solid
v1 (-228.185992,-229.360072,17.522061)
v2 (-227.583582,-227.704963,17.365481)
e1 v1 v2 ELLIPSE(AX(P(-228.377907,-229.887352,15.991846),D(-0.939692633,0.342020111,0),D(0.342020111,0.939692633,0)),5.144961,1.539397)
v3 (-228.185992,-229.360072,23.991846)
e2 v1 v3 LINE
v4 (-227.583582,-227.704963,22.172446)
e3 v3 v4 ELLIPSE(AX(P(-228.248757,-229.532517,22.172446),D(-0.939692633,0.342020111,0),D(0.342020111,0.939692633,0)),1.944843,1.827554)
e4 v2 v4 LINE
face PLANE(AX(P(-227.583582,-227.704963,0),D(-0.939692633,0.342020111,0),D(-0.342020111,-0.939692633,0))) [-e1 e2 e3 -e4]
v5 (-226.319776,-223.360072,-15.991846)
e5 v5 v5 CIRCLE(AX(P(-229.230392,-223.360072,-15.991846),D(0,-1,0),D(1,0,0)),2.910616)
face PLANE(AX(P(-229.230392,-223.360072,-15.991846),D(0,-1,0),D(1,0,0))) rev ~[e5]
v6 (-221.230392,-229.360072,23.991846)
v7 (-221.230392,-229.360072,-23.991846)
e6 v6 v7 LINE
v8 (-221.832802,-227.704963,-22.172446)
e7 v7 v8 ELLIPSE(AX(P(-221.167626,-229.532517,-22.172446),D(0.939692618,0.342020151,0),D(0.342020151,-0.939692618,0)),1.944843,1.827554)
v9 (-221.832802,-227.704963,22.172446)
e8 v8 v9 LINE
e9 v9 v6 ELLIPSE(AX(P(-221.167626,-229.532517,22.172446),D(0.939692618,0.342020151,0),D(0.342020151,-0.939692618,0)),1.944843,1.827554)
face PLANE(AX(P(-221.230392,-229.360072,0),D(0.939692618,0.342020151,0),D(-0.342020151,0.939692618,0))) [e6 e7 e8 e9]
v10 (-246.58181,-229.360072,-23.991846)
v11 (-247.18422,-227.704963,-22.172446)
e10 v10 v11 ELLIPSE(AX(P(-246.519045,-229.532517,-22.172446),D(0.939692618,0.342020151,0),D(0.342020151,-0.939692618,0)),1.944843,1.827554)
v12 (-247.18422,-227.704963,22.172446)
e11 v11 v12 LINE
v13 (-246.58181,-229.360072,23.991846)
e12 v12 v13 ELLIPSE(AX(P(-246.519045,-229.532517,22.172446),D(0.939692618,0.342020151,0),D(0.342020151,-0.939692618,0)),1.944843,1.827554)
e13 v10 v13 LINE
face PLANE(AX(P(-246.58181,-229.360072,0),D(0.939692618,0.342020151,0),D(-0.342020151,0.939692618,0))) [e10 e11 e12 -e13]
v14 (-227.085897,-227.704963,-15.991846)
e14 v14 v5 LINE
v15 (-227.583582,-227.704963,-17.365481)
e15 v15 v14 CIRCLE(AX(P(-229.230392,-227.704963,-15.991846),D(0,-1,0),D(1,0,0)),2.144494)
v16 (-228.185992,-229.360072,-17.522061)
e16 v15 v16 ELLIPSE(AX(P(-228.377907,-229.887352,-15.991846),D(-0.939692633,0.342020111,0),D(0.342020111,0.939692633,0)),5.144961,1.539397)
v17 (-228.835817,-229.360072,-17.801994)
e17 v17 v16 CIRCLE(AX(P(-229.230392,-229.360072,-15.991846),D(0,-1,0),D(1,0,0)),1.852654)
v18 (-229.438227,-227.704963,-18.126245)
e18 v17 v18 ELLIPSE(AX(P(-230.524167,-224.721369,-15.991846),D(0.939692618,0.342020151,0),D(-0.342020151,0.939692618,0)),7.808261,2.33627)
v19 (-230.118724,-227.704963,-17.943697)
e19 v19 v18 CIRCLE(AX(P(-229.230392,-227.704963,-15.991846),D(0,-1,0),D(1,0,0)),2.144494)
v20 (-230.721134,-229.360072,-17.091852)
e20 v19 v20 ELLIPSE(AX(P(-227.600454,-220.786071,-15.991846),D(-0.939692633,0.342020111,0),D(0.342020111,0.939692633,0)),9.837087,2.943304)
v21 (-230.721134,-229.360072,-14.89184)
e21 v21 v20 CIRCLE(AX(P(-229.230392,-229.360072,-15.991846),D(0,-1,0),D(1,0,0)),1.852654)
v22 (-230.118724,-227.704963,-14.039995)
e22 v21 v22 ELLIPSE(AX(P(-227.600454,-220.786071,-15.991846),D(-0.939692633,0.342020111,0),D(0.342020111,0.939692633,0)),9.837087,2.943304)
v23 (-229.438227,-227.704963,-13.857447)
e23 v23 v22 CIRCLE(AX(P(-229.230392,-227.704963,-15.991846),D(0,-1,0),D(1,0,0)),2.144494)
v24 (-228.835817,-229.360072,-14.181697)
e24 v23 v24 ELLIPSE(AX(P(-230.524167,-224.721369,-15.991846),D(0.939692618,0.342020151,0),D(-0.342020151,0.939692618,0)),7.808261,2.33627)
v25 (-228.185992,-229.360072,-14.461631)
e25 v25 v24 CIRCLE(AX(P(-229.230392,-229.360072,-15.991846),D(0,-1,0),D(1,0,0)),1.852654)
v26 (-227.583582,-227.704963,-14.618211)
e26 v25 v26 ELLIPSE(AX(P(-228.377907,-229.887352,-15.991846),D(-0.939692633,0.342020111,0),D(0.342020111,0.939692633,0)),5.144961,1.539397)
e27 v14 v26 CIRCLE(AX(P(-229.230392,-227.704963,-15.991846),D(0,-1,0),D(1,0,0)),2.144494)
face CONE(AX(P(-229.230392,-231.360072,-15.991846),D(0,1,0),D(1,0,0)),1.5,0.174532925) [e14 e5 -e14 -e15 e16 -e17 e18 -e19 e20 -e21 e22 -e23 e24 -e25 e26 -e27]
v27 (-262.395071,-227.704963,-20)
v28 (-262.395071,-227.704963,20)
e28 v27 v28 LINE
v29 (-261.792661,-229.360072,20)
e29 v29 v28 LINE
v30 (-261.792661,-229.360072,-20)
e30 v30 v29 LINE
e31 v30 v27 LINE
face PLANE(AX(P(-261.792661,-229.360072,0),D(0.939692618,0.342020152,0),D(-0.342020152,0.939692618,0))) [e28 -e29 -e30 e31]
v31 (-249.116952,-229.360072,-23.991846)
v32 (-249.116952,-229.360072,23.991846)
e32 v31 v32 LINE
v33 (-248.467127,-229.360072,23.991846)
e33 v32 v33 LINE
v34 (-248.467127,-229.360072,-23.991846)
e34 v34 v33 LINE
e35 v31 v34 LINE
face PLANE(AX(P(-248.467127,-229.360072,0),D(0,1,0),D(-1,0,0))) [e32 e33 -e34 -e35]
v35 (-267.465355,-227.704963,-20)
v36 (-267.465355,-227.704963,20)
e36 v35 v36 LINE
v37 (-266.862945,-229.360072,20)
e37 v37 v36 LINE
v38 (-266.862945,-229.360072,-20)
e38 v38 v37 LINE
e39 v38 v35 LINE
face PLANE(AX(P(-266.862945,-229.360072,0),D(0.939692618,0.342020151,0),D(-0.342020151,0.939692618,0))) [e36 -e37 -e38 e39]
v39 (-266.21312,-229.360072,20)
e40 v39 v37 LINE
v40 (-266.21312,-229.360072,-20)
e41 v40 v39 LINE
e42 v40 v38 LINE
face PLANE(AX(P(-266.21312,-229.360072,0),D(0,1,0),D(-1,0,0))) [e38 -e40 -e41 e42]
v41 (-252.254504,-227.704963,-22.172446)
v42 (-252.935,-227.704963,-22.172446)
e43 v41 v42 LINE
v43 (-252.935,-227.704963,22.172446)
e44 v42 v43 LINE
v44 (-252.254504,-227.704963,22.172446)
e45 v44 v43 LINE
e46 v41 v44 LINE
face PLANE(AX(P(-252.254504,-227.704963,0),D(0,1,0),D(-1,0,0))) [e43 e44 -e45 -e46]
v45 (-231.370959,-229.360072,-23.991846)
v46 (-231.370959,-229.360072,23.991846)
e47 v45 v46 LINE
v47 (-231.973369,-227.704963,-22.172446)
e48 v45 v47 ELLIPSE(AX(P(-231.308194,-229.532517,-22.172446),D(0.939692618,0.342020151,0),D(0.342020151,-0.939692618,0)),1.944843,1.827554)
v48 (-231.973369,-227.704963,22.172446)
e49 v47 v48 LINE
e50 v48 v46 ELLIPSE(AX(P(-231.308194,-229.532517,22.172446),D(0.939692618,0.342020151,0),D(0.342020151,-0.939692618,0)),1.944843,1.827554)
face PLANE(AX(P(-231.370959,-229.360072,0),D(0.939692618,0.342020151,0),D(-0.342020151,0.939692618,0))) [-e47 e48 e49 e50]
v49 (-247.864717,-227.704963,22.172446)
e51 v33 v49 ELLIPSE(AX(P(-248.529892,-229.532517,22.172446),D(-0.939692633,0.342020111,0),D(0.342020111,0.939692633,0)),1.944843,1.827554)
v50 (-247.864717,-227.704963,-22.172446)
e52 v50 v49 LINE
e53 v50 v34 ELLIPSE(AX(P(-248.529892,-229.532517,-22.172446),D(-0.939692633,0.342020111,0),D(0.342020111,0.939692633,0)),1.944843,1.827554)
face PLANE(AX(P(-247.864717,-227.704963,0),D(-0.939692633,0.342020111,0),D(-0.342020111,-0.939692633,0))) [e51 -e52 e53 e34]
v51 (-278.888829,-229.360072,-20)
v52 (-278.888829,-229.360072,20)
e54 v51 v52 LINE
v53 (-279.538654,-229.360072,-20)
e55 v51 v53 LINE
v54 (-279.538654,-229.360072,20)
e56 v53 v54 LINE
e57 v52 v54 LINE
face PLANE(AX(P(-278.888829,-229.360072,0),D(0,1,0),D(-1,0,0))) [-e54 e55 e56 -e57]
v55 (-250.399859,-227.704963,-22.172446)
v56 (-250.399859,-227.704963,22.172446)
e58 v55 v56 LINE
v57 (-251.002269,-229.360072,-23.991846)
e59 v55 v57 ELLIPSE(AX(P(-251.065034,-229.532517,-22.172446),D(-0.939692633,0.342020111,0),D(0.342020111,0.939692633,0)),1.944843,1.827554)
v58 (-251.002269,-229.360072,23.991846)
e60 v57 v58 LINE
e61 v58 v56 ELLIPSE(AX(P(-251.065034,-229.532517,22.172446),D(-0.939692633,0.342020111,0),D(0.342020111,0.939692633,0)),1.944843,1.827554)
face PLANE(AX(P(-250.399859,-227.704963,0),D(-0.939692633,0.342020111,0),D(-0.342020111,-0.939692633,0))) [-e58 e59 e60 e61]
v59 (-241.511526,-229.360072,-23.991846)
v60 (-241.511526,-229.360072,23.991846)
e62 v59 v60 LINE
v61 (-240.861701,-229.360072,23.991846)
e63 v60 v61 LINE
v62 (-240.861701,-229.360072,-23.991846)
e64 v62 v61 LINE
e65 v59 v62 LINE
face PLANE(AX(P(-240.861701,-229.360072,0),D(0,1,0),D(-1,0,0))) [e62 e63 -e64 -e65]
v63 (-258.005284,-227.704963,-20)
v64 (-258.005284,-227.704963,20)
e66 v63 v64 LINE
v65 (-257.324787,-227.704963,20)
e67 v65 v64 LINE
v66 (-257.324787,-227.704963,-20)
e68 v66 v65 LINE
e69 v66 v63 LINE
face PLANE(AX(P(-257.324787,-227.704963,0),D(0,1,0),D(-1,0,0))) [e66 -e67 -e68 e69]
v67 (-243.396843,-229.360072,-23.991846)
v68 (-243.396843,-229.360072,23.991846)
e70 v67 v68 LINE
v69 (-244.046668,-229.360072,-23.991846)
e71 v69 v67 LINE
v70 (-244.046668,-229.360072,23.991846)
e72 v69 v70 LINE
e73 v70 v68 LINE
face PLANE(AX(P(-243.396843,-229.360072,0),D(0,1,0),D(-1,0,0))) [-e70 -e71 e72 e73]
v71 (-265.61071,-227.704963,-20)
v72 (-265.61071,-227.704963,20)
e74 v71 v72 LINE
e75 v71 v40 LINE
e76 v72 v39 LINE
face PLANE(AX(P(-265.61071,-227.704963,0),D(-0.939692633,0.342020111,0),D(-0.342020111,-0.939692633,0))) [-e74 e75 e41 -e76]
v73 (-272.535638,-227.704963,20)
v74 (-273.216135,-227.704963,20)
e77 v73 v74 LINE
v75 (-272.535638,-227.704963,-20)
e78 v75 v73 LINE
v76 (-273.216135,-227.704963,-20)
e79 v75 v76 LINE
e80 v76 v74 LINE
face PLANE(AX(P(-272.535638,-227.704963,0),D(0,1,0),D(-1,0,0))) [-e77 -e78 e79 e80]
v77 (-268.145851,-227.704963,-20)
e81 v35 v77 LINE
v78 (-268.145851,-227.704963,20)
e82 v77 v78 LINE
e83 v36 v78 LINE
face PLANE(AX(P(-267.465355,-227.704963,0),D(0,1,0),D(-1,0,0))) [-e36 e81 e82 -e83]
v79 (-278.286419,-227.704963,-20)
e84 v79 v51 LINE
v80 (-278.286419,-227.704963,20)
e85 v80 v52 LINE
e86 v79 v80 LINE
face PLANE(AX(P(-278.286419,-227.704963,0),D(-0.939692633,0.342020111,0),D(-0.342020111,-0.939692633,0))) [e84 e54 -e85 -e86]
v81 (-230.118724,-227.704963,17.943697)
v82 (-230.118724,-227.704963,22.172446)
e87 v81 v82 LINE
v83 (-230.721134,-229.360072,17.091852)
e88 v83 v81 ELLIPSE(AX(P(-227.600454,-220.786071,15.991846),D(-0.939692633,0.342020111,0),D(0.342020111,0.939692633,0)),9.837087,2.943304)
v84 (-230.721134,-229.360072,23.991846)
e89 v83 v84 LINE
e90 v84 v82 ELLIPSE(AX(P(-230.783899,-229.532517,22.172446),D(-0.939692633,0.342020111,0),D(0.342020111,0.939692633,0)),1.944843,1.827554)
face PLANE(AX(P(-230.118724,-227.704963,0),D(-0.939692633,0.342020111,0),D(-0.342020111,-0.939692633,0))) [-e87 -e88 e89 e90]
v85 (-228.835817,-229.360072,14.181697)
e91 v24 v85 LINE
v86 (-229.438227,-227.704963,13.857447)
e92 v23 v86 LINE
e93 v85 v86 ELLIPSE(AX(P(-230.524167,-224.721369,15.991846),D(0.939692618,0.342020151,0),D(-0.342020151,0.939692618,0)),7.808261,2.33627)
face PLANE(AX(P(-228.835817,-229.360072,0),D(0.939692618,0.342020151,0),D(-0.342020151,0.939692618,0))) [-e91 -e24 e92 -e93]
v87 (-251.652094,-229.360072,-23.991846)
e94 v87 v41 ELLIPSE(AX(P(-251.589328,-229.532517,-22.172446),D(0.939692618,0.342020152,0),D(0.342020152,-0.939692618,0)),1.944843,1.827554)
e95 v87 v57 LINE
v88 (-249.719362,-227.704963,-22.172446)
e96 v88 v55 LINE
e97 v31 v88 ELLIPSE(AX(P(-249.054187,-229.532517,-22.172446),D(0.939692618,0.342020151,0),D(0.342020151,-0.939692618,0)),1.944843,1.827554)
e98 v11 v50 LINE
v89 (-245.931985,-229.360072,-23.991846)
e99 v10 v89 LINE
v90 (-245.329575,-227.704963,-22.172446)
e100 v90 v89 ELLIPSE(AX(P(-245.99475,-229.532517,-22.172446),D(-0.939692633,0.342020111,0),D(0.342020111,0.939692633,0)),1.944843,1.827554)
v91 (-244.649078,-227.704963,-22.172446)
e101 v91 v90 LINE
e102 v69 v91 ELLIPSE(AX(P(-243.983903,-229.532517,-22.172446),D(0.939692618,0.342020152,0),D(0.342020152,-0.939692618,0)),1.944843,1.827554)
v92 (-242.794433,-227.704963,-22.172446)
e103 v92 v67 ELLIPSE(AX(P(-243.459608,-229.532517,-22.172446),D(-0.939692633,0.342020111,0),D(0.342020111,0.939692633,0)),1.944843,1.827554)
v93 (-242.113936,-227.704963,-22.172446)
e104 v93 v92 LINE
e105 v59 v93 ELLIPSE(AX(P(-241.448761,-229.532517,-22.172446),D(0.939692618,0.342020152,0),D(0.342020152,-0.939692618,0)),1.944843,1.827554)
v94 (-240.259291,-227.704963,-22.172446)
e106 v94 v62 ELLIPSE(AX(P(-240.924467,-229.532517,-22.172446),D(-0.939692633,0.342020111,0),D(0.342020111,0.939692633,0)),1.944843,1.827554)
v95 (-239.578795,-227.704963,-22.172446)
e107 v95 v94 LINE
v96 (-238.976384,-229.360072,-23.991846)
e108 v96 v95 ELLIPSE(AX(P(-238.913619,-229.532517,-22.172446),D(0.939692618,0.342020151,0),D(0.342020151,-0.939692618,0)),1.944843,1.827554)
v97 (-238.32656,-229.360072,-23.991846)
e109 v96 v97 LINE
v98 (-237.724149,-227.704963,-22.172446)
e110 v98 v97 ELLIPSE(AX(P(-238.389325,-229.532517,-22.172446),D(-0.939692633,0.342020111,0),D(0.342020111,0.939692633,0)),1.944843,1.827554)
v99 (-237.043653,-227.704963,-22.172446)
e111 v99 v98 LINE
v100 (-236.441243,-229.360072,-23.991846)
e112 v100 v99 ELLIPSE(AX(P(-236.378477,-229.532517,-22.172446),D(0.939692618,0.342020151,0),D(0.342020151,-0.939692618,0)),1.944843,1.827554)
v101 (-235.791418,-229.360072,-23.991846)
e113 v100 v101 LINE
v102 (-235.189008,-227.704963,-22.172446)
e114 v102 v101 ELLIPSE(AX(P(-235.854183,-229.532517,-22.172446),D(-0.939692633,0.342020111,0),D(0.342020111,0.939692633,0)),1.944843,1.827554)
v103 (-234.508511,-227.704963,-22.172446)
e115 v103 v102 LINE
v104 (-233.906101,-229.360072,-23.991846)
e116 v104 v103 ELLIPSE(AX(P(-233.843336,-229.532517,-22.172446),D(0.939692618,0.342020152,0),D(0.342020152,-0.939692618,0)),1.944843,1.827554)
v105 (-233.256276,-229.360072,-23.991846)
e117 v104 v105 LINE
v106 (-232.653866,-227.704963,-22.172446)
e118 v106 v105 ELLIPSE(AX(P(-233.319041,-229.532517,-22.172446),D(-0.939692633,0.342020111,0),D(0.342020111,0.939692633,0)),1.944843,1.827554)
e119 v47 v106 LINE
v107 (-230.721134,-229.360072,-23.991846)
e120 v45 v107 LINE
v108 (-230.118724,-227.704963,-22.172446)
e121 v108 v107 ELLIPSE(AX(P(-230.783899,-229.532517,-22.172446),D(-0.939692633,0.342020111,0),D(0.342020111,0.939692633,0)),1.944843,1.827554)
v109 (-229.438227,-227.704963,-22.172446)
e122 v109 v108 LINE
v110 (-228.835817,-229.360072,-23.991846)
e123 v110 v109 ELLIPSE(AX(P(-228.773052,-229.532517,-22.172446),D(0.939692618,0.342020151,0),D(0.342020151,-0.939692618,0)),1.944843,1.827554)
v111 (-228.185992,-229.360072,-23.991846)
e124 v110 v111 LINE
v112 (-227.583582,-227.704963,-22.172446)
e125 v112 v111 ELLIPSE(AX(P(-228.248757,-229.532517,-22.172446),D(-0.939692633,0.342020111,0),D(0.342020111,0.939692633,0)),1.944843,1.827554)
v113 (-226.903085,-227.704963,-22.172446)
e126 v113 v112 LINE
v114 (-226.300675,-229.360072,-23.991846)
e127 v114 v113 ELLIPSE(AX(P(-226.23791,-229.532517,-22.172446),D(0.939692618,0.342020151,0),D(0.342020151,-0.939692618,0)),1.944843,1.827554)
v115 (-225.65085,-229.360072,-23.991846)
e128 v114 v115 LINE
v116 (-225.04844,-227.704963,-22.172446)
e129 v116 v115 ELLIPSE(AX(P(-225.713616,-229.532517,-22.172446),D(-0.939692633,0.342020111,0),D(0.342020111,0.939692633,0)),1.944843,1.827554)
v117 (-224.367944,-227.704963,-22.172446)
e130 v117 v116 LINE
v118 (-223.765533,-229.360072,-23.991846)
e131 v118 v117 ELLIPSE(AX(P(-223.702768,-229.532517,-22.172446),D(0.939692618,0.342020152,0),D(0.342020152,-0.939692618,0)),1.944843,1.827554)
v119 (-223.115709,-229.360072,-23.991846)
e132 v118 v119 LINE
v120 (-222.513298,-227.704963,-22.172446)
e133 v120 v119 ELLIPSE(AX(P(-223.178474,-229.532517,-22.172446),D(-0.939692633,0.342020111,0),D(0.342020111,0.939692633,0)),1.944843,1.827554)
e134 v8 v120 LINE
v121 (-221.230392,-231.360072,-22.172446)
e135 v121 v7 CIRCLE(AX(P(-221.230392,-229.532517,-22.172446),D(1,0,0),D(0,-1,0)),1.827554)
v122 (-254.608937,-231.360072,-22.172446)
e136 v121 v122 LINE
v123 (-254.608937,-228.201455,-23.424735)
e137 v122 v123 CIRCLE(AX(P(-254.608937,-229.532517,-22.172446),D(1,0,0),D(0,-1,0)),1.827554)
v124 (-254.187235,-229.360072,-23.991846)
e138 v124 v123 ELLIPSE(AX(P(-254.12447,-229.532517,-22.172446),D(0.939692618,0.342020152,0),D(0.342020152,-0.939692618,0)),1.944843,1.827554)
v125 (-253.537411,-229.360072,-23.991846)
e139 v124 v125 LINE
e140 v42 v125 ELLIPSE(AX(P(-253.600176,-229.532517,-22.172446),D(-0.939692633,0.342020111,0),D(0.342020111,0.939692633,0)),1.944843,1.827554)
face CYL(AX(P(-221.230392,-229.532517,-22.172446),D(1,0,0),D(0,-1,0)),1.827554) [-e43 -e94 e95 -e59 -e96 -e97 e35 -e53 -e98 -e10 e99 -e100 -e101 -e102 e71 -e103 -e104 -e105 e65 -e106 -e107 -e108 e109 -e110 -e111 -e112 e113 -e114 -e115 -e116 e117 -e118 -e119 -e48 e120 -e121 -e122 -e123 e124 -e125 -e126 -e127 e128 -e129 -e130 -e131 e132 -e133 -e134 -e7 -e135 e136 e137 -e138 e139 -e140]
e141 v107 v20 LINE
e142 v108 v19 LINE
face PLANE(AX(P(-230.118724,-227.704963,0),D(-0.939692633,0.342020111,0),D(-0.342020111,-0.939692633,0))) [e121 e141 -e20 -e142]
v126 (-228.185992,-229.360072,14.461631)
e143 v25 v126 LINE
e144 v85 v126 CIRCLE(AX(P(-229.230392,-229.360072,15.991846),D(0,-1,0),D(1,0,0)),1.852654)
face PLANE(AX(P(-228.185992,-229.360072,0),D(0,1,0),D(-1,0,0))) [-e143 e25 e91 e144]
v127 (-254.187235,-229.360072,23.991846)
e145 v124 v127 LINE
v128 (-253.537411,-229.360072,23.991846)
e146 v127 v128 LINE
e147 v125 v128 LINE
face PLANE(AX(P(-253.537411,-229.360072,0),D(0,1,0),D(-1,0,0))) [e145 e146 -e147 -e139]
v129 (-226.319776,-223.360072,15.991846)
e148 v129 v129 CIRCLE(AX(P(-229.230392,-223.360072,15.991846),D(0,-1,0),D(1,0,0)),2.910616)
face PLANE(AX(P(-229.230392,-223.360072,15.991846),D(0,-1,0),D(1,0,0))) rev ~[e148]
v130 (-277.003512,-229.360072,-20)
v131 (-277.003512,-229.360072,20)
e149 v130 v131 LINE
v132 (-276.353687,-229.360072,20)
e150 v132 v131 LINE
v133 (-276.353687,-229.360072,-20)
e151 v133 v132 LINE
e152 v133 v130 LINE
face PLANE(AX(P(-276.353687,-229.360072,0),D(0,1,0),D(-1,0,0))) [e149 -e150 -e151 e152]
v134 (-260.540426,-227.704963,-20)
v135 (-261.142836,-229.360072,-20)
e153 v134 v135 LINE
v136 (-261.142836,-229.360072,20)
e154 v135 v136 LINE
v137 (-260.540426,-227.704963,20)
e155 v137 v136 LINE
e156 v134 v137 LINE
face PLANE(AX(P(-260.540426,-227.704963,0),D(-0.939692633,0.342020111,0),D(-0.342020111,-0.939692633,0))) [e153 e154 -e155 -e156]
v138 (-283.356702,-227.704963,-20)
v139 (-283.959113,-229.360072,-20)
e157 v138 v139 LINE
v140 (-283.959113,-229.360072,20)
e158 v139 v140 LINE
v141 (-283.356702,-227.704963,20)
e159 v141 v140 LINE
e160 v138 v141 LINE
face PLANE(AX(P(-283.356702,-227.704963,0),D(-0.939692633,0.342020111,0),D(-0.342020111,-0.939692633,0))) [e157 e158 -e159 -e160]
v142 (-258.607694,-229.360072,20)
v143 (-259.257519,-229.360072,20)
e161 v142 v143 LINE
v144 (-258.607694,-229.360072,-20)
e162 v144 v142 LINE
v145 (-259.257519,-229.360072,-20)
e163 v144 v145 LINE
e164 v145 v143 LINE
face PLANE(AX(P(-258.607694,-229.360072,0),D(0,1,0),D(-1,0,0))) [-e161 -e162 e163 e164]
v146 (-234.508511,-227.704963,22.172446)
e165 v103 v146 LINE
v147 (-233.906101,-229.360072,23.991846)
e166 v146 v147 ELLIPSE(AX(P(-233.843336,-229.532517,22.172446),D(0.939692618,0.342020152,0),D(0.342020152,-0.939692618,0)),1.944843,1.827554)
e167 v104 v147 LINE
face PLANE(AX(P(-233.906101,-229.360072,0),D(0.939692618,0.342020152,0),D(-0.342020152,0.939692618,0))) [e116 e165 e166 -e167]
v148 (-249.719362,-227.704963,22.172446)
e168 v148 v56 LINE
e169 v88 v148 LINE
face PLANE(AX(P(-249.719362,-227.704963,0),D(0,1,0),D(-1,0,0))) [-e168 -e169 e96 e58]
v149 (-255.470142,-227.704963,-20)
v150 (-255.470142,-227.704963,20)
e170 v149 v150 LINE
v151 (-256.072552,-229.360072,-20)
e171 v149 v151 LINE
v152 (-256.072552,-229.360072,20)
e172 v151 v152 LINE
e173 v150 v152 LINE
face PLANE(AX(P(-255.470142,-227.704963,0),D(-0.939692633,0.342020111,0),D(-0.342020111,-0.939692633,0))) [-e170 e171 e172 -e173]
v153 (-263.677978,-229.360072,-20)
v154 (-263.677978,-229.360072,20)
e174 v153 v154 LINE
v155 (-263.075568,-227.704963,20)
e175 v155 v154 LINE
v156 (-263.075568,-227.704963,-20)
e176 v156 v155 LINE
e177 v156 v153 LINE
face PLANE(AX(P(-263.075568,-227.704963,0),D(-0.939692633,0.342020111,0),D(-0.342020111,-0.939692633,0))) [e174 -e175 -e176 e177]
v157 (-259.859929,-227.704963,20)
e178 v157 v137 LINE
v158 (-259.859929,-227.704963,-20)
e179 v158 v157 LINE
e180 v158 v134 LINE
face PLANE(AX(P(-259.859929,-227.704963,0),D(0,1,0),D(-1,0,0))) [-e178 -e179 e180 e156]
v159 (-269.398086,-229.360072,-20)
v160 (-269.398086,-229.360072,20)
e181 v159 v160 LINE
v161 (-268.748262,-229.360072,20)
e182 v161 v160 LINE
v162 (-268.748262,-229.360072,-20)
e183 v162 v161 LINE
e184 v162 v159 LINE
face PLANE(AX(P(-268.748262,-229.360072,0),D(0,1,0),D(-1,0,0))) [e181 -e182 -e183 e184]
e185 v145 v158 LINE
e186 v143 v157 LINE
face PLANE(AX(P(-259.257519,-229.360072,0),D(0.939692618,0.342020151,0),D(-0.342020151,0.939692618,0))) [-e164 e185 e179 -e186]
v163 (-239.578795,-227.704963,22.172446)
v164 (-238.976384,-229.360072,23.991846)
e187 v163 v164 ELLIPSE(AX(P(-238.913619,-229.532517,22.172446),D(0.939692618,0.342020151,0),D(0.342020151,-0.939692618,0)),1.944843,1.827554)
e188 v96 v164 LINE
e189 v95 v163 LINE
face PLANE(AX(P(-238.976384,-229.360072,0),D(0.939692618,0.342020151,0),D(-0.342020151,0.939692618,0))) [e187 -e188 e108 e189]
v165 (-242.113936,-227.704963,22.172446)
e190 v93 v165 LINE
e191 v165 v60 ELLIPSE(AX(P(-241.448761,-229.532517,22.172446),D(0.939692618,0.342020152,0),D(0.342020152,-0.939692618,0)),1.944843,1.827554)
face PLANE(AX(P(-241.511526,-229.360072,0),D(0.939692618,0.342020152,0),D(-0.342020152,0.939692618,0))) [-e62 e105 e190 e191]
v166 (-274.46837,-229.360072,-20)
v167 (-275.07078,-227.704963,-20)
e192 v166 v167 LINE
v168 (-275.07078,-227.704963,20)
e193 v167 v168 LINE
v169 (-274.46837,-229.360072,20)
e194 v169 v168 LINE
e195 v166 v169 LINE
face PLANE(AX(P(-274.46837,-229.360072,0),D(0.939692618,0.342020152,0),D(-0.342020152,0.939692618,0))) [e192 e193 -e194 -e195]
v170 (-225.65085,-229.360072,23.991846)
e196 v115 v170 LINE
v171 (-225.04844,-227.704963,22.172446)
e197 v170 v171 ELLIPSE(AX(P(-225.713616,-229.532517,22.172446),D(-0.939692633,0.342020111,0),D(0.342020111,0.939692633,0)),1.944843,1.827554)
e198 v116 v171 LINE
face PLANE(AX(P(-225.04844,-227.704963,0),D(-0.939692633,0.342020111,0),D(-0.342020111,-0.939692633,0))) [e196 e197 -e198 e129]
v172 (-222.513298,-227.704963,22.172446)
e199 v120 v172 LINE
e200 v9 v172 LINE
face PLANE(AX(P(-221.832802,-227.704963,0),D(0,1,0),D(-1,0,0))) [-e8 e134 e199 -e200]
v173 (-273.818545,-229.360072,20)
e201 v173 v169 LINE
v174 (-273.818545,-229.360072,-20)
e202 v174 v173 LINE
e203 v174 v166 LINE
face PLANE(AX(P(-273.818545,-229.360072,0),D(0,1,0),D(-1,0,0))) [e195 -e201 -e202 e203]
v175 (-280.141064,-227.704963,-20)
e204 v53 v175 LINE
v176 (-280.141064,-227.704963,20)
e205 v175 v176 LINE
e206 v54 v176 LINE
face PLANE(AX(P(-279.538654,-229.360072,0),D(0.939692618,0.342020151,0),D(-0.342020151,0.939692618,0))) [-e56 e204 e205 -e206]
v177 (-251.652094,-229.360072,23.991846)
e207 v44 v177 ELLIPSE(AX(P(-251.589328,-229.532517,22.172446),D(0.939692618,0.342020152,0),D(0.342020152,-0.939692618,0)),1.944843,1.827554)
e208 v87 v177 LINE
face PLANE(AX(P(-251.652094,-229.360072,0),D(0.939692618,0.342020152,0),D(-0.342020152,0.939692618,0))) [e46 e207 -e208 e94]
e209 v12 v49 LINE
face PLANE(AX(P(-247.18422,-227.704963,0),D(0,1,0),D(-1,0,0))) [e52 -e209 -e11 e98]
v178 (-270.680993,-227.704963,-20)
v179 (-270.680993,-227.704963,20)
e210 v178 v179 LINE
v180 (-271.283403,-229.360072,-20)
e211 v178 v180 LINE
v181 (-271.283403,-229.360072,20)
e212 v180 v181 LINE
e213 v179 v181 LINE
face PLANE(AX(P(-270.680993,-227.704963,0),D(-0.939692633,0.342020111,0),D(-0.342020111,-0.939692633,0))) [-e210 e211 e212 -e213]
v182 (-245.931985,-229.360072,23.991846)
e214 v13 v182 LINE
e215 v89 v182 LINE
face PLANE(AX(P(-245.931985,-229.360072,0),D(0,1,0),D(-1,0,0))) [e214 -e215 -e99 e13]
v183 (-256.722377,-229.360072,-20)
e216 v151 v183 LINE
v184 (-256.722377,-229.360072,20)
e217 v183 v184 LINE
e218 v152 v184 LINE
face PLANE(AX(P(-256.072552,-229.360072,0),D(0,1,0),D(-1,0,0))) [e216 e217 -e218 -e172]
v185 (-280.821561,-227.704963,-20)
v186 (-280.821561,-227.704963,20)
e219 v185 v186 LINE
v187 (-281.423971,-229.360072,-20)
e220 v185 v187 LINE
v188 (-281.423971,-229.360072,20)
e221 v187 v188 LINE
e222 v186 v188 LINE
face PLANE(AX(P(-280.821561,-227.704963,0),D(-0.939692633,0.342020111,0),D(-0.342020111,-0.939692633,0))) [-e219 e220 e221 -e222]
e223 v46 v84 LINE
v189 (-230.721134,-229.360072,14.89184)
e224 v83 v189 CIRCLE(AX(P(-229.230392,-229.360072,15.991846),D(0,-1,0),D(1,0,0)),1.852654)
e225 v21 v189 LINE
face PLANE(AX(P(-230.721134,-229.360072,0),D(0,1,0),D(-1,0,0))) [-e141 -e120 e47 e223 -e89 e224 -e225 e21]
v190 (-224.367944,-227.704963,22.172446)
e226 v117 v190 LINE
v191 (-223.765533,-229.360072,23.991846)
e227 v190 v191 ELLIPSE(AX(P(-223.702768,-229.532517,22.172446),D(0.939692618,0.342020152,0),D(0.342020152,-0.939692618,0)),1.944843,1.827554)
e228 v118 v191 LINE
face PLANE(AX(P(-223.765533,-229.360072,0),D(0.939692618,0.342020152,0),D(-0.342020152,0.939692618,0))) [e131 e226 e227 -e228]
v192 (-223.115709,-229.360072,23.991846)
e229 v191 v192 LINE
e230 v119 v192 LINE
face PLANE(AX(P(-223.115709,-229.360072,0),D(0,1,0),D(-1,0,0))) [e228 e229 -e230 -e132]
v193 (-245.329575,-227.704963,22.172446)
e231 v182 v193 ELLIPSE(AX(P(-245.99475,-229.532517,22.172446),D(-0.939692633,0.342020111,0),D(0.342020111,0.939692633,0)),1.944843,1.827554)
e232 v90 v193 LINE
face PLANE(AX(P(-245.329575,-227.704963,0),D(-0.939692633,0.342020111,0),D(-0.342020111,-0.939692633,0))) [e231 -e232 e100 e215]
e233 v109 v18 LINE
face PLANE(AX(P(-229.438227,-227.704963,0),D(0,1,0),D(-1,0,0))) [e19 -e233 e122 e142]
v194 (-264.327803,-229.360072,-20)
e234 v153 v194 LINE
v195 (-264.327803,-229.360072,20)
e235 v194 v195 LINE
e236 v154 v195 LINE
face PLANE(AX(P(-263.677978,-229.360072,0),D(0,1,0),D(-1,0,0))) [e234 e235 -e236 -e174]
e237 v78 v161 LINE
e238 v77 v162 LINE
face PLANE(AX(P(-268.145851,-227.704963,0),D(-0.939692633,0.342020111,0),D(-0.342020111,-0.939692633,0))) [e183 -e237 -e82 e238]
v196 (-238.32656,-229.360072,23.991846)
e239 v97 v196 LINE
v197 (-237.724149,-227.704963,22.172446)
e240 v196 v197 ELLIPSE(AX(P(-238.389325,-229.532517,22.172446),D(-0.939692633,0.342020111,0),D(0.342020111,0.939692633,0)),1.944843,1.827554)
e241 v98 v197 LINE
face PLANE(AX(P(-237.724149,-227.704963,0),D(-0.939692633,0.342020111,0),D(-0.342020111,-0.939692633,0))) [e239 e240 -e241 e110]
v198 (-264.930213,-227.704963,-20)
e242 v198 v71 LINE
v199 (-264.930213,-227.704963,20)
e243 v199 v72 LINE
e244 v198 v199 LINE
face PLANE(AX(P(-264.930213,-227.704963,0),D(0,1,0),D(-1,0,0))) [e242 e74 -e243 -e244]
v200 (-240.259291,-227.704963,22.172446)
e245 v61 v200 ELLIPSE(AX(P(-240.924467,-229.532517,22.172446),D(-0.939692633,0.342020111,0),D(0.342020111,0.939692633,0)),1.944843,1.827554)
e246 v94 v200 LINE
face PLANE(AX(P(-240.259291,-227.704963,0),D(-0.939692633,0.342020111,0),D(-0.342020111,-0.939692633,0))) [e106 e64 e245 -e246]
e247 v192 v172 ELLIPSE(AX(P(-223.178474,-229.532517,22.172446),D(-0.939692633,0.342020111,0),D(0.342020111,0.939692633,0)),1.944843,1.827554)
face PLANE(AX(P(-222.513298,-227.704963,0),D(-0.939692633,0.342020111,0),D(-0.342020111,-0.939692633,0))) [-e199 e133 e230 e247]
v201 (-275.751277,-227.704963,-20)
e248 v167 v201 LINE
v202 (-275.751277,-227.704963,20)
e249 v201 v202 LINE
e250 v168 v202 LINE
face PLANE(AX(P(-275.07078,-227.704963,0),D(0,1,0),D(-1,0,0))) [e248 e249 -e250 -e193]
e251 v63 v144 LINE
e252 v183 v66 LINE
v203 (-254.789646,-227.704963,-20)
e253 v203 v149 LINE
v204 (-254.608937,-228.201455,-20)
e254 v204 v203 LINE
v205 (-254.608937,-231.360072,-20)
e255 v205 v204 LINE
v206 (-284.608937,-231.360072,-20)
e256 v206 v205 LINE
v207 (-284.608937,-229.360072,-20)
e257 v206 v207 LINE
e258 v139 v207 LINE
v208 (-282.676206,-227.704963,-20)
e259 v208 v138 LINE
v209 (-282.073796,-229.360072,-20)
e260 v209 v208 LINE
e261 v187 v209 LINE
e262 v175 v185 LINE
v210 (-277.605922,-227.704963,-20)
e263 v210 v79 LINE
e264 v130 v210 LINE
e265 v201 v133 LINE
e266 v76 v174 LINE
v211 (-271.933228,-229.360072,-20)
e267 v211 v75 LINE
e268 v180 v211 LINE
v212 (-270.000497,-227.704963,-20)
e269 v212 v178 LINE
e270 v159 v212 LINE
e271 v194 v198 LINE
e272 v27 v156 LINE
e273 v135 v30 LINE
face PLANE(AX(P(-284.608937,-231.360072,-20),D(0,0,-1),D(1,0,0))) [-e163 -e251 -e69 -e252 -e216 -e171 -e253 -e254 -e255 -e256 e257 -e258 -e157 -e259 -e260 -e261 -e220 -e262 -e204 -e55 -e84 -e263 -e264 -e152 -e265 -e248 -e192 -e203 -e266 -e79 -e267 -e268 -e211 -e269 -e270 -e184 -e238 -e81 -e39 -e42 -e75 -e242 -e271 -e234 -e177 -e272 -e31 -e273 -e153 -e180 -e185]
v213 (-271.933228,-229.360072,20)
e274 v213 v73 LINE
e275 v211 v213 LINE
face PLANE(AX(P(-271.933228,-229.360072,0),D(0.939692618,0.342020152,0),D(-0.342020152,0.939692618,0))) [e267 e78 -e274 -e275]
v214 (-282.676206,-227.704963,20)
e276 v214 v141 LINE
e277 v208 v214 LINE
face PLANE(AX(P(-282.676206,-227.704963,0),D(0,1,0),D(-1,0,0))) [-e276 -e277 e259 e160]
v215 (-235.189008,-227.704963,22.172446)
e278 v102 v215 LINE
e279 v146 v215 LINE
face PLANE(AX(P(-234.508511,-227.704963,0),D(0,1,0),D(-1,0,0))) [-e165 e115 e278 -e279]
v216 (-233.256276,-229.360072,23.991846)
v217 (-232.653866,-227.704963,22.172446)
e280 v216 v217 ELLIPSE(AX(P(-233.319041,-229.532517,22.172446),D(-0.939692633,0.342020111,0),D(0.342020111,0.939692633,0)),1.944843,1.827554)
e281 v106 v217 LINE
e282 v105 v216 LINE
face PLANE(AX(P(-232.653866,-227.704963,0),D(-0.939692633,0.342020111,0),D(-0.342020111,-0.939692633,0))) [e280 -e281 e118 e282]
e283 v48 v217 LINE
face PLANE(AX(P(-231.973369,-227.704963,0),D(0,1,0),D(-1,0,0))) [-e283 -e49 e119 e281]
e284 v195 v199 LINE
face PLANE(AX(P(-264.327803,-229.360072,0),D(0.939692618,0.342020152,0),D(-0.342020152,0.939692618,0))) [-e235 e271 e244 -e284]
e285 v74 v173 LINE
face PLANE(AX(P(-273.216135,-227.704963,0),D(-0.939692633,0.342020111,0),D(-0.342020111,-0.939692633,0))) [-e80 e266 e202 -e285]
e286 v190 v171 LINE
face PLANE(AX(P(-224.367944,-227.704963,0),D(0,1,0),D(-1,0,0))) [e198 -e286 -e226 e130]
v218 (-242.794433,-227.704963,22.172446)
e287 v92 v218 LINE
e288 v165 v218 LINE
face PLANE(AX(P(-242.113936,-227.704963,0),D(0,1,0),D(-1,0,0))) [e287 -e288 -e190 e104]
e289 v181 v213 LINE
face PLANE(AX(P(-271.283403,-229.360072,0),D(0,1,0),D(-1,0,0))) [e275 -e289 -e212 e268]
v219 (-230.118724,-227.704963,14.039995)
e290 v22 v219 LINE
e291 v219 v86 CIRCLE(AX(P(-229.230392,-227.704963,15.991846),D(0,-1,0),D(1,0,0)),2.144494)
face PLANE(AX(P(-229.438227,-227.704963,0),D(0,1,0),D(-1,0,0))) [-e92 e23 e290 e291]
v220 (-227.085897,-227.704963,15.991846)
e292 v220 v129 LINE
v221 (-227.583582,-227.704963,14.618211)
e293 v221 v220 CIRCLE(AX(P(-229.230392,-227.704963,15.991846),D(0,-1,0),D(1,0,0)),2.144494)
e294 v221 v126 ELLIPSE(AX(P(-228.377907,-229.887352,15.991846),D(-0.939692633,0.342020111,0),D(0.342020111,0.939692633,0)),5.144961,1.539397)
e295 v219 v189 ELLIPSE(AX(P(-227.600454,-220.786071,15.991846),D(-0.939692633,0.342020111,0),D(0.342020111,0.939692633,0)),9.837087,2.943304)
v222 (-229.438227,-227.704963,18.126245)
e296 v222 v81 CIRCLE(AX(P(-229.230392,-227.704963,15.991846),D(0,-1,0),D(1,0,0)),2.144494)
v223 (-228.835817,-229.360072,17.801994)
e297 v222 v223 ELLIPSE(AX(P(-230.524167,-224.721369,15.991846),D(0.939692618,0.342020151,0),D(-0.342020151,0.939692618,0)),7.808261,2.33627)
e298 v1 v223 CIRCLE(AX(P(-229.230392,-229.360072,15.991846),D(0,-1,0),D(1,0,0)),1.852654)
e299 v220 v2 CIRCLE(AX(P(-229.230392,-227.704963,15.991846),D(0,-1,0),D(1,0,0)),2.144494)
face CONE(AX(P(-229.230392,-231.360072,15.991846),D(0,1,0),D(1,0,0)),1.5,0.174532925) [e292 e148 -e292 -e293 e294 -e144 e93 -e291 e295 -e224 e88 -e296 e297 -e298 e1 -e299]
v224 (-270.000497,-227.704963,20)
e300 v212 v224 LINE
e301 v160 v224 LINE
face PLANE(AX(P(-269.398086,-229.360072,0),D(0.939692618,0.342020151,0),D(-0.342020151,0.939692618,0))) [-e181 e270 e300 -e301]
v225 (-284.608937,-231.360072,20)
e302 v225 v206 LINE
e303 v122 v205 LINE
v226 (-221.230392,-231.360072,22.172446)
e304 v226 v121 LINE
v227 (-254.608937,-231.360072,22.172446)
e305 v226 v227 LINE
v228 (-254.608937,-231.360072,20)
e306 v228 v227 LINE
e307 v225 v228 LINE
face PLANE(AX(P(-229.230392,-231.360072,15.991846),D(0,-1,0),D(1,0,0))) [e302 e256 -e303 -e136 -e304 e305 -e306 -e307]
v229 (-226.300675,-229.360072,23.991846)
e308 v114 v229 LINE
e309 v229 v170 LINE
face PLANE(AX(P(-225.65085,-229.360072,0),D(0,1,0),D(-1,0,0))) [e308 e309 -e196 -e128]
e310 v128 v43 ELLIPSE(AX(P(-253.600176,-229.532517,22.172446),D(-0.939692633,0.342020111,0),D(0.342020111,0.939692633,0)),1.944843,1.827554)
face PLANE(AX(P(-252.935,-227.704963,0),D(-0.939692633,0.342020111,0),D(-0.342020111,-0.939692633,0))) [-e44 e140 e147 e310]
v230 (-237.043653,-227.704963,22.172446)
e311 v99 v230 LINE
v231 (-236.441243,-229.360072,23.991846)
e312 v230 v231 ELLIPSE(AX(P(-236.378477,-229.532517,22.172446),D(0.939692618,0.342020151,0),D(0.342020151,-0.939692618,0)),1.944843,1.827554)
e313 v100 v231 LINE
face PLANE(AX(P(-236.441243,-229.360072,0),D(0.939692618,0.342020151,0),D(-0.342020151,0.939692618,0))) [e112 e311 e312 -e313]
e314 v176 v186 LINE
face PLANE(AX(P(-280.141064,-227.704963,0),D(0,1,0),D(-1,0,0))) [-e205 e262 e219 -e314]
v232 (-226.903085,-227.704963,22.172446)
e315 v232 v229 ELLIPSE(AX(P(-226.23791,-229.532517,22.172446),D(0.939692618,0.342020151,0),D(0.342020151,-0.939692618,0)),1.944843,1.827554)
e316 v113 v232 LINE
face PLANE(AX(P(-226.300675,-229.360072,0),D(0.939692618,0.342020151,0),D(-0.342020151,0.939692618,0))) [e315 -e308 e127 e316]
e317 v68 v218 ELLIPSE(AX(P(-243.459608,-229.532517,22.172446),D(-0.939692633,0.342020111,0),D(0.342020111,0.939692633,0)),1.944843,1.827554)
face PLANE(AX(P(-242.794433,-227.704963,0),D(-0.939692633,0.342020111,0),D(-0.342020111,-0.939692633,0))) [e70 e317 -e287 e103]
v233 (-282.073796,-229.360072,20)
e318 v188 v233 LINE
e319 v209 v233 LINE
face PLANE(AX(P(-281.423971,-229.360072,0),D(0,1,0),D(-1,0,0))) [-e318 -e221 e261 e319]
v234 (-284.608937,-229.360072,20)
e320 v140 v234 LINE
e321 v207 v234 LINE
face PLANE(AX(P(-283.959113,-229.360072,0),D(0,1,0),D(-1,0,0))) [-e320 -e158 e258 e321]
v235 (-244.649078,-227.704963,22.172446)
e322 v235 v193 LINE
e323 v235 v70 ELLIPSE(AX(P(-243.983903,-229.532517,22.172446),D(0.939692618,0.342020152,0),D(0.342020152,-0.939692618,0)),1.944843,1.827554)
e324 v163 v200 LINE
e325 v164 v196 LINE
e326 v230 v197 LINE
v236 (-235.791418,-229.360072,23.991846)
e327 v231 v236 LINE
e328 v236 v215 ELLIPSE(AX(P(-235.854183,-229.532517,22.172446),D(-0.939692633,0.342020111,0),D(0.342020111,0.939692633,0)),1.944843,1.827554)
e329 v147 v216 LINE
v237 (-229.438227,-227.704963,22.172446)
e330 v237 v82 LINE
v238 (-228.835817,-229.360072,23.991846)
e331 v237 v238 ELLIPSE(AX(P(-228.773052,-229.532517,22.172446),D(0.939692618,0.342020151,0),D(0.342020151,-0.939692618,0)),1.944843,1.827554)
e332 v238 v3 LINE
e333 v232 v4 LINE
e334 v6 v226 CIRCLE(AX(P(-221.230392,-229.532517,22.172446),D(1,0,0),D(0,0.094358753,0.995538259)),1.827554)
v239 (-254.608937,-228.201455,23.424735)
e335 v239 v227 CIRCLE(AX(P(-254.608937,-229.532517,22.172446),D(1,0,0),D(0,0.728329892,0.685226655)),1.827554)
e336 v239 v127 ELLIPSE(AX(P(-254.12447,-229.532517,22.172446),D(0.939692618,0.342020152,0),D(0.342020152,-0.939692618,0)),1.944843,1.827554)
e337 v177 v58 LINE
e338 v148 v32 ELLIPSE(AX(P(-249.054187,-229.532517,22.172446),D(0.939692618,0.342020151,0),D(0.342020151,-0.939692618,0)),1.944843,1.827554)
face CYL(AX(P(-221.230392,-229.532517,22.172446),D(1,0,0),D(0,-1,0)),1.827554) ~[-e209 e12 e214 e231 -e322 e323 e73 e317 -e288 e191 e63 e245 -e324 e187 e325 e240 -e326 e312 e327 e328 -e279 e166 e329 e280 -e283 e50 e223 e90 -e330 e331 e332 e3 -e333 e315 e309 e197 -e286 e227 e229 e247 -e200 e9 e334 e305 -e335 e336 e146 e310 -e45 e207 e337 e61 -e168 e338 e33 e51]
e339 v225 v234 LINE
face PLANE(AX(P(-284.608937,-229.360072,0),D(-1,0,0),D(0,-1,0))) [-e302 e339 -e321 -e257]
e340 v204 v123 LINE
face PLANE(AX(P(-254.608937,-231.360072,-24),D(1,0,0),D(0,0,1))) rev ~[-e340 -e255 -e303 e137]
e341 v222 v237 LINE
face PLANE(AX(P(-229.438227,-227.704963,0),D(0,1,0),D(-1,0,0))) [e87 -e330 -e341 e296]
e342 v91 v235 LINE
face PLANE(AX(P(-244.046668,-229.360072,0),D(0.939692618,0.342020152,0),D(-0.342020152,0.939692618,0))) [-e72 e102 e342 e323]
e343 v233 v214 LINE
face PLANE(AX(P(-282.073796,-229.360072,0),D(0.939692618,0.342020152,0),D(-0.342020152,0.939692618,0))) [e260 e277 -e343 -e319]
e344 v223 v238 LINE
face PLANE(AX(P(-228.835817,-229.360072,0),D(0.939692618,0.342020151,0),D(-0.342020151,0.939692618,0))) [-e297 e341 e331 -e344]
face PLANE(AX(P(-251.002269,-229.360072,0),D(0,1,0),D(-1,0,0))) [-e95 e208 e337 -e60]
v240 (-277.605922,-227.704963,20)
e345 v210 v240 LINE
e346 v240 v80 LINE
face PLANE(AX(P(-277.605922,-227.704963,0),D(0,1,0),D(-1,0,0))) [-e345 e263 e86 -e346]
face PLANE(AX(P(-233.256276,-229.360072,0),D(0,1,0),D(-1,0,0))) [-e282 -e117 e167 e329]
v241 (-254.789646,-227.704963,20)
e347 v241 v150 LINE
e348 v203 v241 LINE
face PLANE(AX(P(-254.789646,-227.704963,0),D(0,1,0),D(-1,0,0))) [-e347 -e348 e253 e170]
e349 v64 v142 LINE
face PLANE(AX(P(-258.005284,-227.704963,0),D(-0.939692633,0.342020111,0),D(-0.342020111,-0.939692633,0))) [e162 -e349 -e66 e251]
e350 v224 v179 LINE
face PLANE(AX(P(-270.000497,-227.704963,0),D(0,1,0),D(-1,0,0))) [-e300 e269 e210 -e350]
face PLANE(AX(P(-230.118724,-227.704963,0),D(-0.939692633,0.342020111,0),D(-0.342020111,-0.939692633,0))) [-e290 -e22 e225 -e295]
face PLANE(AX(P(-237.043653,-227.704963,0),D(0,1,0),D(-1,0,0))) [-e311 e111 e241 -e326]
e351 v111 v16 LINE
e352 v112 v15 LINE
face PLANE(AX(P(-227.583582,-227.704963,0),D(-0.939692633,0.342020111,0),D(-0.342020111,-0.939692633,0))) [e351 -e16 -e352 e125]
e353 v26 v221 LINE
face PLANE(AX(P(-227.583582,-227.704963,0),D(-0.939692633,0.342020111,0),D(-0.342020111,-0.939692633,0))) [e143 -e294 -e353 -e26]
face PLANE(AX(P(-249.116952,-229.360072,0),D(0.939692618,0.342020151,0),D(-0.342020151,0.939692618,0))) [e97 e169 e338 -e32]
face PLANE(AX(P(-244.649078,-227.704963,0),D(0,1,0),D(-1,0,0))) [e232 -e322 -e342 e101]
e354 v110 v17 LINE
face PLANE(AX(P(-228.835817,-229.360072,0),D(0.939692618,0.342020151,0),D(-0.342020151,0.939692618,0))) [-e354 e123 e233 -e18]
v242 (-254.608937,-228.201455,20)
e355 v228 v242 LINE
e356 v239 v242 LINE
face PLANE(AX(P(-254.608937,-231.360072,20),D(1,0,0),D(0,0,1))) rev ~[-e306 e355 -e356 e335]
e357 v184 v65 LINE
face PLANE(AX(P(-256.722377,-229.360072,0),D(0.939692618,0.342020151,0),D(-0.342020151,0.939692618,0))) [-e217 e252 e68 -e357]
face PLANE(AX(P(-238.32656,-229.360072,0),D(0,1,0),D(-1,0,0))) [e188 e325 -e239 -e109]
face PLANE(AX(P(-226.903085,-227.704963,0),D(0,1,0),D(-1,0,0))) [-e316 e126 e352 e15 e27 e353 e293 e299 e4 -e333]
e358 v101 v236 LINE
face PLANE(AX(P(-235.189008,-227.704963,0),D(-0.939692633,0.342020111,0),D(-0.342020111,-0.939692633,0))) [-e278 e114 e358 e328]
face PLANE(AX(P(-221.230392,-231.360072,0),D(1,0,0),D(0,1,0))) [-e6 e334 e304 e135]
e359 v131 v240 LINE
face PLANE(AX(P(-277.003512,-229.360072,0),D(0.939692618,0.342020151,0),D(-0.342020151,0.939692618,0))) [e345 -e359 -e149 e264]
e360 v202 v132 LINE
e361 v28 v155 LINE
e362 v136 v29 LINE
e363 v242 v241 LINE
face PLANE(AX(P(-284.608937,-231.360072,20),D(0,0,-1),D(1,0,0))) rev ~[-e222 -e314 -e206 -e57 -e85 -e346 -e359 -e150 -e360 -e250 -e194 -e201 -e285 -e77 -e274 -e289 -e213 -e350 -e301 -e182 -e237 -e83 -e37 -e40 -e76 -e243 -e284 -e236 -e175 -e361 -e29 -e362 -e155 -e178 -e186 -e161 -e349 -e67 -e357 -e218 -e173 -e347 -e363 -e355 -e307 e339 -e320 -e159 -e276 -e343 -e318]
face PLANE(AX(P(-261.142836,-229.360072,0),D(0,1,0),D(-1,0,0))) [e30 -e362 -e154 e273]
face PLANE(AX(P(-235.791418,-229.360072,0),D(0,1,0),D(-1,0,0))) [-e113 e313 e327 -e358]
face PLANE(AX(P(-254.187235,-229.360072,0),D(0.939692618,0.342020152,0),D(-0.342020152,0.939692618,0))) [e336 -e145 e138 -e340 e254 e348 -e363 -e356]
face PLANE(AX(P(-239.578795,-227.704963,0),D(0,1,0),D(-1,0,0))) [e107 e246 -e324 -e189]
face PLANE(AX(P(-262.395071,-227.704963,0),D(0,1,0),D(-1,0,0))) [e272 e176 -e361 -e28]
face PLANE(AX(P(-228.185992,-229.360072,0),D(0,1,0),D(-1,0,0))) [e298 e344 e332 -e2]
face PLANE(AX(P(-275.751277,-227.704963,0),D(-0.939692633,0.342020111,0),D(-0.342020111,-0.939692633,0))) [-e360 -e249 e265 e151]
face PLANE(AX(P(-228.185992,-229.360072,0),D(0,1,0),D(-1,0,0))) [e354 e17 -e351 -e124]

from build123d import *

# Parameters (mm, degrees)
BOSS_EXTRUDE1_DEPTH           = 24
SKETCH6_W                     = 30
SKETCH6_H                     = 4
CUT_EXTRUDE2_DEPTH            = 286.642446166
CUT_EXTRUDE1_DEPTH            = 242.081568844
SKETCH7_R                     = 1.5
BOSS_EXTRUDE2_DEPTH           = 8
BOSS_EXTRUDE2_DRAFT           = 10
BOSS_EXTRUDE2_PROFILE_2_DEPTH = 8
BOSS_EXTRUDE2_PROFILE_2_DRAFT = 10


with BuildPart() as part:
    # Sketch4 → Boss-Extrude1 (new, symmetric)
    with BuildSketch(Plane(origin=(-229.78233317, -228.51233317, 0), x_dir=(0, 1, 0), z_dir=(0, 0, 1))):
        Polygon((-0.84773851, -8.551941602), (0.807370009, -7.949531351), (0.807370009, -7.269034775), (-0.84773851, -6.666624604), (-0.84773851, -6.01679977), (0.807370009, -5.414389518), (0.807370009, -4.733892942), (-0.84773851, -4.131482772), (-0.84773851, -3.481657937), (0.807370009, -2.879247686), (0.807370009, -2.19875111), (-0.84773851, -1.596340939), (-0.84773851, -0.946516105), (0.807370009, -0.344105854), (0.807370009, 0.336390722), (-0.84773851, 0.938800893), (-0.84773851, 1.588625727), (0.807370009, 2.191035978), (0.807370009, 2.871532554), (-0.84773851, 3.473942725), (-0.84773851, 4.123767559), (0.807370009, 4.726177811), (0.807370009, 5.406674387), (-0.84773851, 6.009084557), (-0.84773851, 6.658909392), (0.807370009, 7.261319643), (0.807370009, 7.941816219), (-0.84773851, 8.54422639), (-0.84773851, 9.194051224), (0.807370009, 9.796461475), (0.807370009, 10.476958051), (-0.84773851, 11.079368222), (-0.84773851, 11.729193056), (0.807370009, 12.331603308), (0.807370009, 13.012099883), (-0.84773851, 13.614510054), (-0.84773851, 14.264334888), (0.807370009, 14.86674514), (0.807370009, 15.547241716), (-0.84773851, 16.149651886), (-0.84773851, 16.799476721), (0.807370009, 17.401886972), (0.807370009, 18.082383548), (-0.84773851, 18.684793719), (-0.84773851, 19.334618553), (0.807370009, 19.937028804), (0.807370009, 20.61752538), (-0.84773851, 21.219935551), (-0.84773851, 21.869760385), (0.807370009, 22.472170637), (0.807370009, 23.152667212), (-0.84773851, 23.755077383), (-0.84773851, 24.404902217), (0.807370009, 25.007312469), (0.807370009, 25.687809045), (-0.84773851, 26.290219215), (-0.84773851, 26.94004405), (0.807370009, 27.542454301), (0.807370009, 28.222950877), (-0.84773851, 28.825361048), (-0.84773851, 29.475185882), (0.807370009, 30.077596133), (0.807370009, 30.758092709), (-0.84773851, 31.36050288), (-0.84773851, 32.010327714), (0.807370009, 32.612737966), (0.807370009, 33.293234541), (-0.84773851, 33.895644712), (-0.84773851, 34.545469546), (0.807370009, 35.147879798), (0.807370009, 35.828376374), (-0.84773851, 36.430786544), (-0.84773851, 37.080611379), (0.807370009, 37.68302163), (0.807370009, 38.363518206), (-0.84773851, 38.965928377), (-0.84773851, 39.615753211), (0.807370009, 40.218163462), (0.807370009, 40.898660038), (-0.84773851, 41.501070209), (-0.84773851, 42.150895043), (0.807370009, 42.753305295), (0.807370009, 43.43380187), (-0.84773851, 44.036212041), (-0.84773851, 44.686036875), (0.807370009, 45.288447127), (0.807370009, 45.968943703), (-0.84773851, 46.571353873), (-0.84773851, 47.221178708), (0.807370009, 47.823588959), (0.807370009, 48.504085535), (-0.84773851, 49.106495706), (-0.84773851, 49.75632054), (0.807370009, 50.358730791), (0.807370009, 51.039227367), (-0.84773851, 51.641637538), (-0.84773851, 52.291462372), (0.807370009, 52.893872624), (0.807370009, 53.574369199), (-0.84773851, 54.17677937), (-0.84773851, 54.826604204), (-2.84773851, 54.826604204), (-2.84773851, -8.551941602), align=None)
    extrude(amount=BOSS_EXTRUDE1_DEPTH, both=True)

    # Sketch6 → Cut-Extrude2 (cut, through all)
    with BuildSketch(Plane.XZ.offset(231.36007168)):
        with Locations((-269.608937374, -22)):
            Rectangle(SKETCH6_W, SKETCH6_H)
        with Locations((-269.608937374, 22)):
            Rectangle(SKETCH6_W, SKETCH6_H)
    extrude(amount=-CUT_EXTRUDE2_DEPTH, mode=Mode.SUBTRACT)

    # Sketch5 → Cut-Extrude1 (cut, through all)
    with BuildSketch(Plane(origin=(-221.230391568, 0, 0), x_dir=(0, 0, -1), z_dir=(1, 0, 0))):
        with BuildLine():
            Line((-22.17244574, -227.704963161), (-22.17244574, -227.204963161))
            Line((-22.17244574, -227.204963161), (-24.67244574, -227.204963161))
            Line((-24.67244574, -227.204963161), (-24.67244574, -231.86007168))
            Line((-24.67244574, -231.86007168), (-22.17244574, -231.86007168))
            Line((-22.17244574, -231.86007168), (-22.17244574, -231.36007168))
            ThreePointArc((-22.17244574, -231.36007168), (-24, -229.53251742), (-22.17244574, -227.704963161))
        make_face()
        with BuildLine():
            Line((22.17244574, -231.86007168), (22.17244574, -231.36007168))
            ThreePointArc((22.17244574, -231.36007168), (24, -229.53251742), (22.17244574, -227.704963161))
            Line((22.17244574, -227.704963161), (22.17244574, -227.204963161))
            Line((22.17244574, -227.204963161), (24.67244574, -227.204963161))
            Line((24.67244574, -227.204963161), (24.67244574, -231.86007168))
            Line((24.67244574, -231.86007168), (22.17244574, -231.86007168))
        make_face()
    extrude(amount=-CUT_EXTRUDE1_DEPTH, mode=Mode.SUBTRACT)


with BuildPart() as boss_extrude2_tool:
    # Sketch7 → Boss-Extrude2 (with draft: the straight prism first)
    with BuildSketch(Plane.XZ.offset(231.36007168)):
        with Locations((-229.230391568, -15.991845927)):
            Circle(SKETCH7_R)
    extrude(amount=-BOSS_EXTRUDE2_DEPTH)
    # Boss-Extrude2: the draft: its side faces are tilted about the plane it starts from
    boss_extrude2_sides = [boss_extrude2_tool.faces().sort_by_distance(p)[0] for p in [
        (-230.730391568, -227.36007168, -15.991845927),
    ]]
    draft(boss_extrude2_sides, Plane.XZ.offset(231.36007168), BOSS_EXTRUDE2_DRAFT)


with BuildPart() as part_1:
    add(part.part)

    # Boss-Extrude2: add boss_extrude2_tool
    add(boss_extrude2_tool.part)


with BuildPart() as boss_extrude2_profile_2_tool:
    # Sketch7 → Boss-Extrude2 profile 2 (with draft: the straight prism first)
    with BuildSketch(Plane.XZ.offset(231.36007168)):
        with Locations((-229.230391568, 15.991845927)):
            Circle(SKETCH7_R)
    extrude(amount=-BOSS_EXTRUDE2_PROFILE_2_DEPTH)
    # Boss-Extrude2 profile 2: the draft: its side faces are tilted about the plane it starts from
    boss_extrude2_profile_2_sides = [boss_extrude2_profile_2_tool.faces().sort_by_distance(p)[0] for p in [
        (-230.730391568, -227.36007168, 15.991845927),
    ]]
    draft(boss_extrude2_profile_2_sides, Plane.XZ.offset(231.36007168), BOSS_EXTRUDE2_PROFILE_2_DRAFT)


with BuildPart() as part_2:
    add(part_1.part)

    # Boss-Extrude2 profile 2: add boss_extrude2_profile_2_tool
    add(boss_extrude2_profile_2_tool.part)


solid = part_2.part
